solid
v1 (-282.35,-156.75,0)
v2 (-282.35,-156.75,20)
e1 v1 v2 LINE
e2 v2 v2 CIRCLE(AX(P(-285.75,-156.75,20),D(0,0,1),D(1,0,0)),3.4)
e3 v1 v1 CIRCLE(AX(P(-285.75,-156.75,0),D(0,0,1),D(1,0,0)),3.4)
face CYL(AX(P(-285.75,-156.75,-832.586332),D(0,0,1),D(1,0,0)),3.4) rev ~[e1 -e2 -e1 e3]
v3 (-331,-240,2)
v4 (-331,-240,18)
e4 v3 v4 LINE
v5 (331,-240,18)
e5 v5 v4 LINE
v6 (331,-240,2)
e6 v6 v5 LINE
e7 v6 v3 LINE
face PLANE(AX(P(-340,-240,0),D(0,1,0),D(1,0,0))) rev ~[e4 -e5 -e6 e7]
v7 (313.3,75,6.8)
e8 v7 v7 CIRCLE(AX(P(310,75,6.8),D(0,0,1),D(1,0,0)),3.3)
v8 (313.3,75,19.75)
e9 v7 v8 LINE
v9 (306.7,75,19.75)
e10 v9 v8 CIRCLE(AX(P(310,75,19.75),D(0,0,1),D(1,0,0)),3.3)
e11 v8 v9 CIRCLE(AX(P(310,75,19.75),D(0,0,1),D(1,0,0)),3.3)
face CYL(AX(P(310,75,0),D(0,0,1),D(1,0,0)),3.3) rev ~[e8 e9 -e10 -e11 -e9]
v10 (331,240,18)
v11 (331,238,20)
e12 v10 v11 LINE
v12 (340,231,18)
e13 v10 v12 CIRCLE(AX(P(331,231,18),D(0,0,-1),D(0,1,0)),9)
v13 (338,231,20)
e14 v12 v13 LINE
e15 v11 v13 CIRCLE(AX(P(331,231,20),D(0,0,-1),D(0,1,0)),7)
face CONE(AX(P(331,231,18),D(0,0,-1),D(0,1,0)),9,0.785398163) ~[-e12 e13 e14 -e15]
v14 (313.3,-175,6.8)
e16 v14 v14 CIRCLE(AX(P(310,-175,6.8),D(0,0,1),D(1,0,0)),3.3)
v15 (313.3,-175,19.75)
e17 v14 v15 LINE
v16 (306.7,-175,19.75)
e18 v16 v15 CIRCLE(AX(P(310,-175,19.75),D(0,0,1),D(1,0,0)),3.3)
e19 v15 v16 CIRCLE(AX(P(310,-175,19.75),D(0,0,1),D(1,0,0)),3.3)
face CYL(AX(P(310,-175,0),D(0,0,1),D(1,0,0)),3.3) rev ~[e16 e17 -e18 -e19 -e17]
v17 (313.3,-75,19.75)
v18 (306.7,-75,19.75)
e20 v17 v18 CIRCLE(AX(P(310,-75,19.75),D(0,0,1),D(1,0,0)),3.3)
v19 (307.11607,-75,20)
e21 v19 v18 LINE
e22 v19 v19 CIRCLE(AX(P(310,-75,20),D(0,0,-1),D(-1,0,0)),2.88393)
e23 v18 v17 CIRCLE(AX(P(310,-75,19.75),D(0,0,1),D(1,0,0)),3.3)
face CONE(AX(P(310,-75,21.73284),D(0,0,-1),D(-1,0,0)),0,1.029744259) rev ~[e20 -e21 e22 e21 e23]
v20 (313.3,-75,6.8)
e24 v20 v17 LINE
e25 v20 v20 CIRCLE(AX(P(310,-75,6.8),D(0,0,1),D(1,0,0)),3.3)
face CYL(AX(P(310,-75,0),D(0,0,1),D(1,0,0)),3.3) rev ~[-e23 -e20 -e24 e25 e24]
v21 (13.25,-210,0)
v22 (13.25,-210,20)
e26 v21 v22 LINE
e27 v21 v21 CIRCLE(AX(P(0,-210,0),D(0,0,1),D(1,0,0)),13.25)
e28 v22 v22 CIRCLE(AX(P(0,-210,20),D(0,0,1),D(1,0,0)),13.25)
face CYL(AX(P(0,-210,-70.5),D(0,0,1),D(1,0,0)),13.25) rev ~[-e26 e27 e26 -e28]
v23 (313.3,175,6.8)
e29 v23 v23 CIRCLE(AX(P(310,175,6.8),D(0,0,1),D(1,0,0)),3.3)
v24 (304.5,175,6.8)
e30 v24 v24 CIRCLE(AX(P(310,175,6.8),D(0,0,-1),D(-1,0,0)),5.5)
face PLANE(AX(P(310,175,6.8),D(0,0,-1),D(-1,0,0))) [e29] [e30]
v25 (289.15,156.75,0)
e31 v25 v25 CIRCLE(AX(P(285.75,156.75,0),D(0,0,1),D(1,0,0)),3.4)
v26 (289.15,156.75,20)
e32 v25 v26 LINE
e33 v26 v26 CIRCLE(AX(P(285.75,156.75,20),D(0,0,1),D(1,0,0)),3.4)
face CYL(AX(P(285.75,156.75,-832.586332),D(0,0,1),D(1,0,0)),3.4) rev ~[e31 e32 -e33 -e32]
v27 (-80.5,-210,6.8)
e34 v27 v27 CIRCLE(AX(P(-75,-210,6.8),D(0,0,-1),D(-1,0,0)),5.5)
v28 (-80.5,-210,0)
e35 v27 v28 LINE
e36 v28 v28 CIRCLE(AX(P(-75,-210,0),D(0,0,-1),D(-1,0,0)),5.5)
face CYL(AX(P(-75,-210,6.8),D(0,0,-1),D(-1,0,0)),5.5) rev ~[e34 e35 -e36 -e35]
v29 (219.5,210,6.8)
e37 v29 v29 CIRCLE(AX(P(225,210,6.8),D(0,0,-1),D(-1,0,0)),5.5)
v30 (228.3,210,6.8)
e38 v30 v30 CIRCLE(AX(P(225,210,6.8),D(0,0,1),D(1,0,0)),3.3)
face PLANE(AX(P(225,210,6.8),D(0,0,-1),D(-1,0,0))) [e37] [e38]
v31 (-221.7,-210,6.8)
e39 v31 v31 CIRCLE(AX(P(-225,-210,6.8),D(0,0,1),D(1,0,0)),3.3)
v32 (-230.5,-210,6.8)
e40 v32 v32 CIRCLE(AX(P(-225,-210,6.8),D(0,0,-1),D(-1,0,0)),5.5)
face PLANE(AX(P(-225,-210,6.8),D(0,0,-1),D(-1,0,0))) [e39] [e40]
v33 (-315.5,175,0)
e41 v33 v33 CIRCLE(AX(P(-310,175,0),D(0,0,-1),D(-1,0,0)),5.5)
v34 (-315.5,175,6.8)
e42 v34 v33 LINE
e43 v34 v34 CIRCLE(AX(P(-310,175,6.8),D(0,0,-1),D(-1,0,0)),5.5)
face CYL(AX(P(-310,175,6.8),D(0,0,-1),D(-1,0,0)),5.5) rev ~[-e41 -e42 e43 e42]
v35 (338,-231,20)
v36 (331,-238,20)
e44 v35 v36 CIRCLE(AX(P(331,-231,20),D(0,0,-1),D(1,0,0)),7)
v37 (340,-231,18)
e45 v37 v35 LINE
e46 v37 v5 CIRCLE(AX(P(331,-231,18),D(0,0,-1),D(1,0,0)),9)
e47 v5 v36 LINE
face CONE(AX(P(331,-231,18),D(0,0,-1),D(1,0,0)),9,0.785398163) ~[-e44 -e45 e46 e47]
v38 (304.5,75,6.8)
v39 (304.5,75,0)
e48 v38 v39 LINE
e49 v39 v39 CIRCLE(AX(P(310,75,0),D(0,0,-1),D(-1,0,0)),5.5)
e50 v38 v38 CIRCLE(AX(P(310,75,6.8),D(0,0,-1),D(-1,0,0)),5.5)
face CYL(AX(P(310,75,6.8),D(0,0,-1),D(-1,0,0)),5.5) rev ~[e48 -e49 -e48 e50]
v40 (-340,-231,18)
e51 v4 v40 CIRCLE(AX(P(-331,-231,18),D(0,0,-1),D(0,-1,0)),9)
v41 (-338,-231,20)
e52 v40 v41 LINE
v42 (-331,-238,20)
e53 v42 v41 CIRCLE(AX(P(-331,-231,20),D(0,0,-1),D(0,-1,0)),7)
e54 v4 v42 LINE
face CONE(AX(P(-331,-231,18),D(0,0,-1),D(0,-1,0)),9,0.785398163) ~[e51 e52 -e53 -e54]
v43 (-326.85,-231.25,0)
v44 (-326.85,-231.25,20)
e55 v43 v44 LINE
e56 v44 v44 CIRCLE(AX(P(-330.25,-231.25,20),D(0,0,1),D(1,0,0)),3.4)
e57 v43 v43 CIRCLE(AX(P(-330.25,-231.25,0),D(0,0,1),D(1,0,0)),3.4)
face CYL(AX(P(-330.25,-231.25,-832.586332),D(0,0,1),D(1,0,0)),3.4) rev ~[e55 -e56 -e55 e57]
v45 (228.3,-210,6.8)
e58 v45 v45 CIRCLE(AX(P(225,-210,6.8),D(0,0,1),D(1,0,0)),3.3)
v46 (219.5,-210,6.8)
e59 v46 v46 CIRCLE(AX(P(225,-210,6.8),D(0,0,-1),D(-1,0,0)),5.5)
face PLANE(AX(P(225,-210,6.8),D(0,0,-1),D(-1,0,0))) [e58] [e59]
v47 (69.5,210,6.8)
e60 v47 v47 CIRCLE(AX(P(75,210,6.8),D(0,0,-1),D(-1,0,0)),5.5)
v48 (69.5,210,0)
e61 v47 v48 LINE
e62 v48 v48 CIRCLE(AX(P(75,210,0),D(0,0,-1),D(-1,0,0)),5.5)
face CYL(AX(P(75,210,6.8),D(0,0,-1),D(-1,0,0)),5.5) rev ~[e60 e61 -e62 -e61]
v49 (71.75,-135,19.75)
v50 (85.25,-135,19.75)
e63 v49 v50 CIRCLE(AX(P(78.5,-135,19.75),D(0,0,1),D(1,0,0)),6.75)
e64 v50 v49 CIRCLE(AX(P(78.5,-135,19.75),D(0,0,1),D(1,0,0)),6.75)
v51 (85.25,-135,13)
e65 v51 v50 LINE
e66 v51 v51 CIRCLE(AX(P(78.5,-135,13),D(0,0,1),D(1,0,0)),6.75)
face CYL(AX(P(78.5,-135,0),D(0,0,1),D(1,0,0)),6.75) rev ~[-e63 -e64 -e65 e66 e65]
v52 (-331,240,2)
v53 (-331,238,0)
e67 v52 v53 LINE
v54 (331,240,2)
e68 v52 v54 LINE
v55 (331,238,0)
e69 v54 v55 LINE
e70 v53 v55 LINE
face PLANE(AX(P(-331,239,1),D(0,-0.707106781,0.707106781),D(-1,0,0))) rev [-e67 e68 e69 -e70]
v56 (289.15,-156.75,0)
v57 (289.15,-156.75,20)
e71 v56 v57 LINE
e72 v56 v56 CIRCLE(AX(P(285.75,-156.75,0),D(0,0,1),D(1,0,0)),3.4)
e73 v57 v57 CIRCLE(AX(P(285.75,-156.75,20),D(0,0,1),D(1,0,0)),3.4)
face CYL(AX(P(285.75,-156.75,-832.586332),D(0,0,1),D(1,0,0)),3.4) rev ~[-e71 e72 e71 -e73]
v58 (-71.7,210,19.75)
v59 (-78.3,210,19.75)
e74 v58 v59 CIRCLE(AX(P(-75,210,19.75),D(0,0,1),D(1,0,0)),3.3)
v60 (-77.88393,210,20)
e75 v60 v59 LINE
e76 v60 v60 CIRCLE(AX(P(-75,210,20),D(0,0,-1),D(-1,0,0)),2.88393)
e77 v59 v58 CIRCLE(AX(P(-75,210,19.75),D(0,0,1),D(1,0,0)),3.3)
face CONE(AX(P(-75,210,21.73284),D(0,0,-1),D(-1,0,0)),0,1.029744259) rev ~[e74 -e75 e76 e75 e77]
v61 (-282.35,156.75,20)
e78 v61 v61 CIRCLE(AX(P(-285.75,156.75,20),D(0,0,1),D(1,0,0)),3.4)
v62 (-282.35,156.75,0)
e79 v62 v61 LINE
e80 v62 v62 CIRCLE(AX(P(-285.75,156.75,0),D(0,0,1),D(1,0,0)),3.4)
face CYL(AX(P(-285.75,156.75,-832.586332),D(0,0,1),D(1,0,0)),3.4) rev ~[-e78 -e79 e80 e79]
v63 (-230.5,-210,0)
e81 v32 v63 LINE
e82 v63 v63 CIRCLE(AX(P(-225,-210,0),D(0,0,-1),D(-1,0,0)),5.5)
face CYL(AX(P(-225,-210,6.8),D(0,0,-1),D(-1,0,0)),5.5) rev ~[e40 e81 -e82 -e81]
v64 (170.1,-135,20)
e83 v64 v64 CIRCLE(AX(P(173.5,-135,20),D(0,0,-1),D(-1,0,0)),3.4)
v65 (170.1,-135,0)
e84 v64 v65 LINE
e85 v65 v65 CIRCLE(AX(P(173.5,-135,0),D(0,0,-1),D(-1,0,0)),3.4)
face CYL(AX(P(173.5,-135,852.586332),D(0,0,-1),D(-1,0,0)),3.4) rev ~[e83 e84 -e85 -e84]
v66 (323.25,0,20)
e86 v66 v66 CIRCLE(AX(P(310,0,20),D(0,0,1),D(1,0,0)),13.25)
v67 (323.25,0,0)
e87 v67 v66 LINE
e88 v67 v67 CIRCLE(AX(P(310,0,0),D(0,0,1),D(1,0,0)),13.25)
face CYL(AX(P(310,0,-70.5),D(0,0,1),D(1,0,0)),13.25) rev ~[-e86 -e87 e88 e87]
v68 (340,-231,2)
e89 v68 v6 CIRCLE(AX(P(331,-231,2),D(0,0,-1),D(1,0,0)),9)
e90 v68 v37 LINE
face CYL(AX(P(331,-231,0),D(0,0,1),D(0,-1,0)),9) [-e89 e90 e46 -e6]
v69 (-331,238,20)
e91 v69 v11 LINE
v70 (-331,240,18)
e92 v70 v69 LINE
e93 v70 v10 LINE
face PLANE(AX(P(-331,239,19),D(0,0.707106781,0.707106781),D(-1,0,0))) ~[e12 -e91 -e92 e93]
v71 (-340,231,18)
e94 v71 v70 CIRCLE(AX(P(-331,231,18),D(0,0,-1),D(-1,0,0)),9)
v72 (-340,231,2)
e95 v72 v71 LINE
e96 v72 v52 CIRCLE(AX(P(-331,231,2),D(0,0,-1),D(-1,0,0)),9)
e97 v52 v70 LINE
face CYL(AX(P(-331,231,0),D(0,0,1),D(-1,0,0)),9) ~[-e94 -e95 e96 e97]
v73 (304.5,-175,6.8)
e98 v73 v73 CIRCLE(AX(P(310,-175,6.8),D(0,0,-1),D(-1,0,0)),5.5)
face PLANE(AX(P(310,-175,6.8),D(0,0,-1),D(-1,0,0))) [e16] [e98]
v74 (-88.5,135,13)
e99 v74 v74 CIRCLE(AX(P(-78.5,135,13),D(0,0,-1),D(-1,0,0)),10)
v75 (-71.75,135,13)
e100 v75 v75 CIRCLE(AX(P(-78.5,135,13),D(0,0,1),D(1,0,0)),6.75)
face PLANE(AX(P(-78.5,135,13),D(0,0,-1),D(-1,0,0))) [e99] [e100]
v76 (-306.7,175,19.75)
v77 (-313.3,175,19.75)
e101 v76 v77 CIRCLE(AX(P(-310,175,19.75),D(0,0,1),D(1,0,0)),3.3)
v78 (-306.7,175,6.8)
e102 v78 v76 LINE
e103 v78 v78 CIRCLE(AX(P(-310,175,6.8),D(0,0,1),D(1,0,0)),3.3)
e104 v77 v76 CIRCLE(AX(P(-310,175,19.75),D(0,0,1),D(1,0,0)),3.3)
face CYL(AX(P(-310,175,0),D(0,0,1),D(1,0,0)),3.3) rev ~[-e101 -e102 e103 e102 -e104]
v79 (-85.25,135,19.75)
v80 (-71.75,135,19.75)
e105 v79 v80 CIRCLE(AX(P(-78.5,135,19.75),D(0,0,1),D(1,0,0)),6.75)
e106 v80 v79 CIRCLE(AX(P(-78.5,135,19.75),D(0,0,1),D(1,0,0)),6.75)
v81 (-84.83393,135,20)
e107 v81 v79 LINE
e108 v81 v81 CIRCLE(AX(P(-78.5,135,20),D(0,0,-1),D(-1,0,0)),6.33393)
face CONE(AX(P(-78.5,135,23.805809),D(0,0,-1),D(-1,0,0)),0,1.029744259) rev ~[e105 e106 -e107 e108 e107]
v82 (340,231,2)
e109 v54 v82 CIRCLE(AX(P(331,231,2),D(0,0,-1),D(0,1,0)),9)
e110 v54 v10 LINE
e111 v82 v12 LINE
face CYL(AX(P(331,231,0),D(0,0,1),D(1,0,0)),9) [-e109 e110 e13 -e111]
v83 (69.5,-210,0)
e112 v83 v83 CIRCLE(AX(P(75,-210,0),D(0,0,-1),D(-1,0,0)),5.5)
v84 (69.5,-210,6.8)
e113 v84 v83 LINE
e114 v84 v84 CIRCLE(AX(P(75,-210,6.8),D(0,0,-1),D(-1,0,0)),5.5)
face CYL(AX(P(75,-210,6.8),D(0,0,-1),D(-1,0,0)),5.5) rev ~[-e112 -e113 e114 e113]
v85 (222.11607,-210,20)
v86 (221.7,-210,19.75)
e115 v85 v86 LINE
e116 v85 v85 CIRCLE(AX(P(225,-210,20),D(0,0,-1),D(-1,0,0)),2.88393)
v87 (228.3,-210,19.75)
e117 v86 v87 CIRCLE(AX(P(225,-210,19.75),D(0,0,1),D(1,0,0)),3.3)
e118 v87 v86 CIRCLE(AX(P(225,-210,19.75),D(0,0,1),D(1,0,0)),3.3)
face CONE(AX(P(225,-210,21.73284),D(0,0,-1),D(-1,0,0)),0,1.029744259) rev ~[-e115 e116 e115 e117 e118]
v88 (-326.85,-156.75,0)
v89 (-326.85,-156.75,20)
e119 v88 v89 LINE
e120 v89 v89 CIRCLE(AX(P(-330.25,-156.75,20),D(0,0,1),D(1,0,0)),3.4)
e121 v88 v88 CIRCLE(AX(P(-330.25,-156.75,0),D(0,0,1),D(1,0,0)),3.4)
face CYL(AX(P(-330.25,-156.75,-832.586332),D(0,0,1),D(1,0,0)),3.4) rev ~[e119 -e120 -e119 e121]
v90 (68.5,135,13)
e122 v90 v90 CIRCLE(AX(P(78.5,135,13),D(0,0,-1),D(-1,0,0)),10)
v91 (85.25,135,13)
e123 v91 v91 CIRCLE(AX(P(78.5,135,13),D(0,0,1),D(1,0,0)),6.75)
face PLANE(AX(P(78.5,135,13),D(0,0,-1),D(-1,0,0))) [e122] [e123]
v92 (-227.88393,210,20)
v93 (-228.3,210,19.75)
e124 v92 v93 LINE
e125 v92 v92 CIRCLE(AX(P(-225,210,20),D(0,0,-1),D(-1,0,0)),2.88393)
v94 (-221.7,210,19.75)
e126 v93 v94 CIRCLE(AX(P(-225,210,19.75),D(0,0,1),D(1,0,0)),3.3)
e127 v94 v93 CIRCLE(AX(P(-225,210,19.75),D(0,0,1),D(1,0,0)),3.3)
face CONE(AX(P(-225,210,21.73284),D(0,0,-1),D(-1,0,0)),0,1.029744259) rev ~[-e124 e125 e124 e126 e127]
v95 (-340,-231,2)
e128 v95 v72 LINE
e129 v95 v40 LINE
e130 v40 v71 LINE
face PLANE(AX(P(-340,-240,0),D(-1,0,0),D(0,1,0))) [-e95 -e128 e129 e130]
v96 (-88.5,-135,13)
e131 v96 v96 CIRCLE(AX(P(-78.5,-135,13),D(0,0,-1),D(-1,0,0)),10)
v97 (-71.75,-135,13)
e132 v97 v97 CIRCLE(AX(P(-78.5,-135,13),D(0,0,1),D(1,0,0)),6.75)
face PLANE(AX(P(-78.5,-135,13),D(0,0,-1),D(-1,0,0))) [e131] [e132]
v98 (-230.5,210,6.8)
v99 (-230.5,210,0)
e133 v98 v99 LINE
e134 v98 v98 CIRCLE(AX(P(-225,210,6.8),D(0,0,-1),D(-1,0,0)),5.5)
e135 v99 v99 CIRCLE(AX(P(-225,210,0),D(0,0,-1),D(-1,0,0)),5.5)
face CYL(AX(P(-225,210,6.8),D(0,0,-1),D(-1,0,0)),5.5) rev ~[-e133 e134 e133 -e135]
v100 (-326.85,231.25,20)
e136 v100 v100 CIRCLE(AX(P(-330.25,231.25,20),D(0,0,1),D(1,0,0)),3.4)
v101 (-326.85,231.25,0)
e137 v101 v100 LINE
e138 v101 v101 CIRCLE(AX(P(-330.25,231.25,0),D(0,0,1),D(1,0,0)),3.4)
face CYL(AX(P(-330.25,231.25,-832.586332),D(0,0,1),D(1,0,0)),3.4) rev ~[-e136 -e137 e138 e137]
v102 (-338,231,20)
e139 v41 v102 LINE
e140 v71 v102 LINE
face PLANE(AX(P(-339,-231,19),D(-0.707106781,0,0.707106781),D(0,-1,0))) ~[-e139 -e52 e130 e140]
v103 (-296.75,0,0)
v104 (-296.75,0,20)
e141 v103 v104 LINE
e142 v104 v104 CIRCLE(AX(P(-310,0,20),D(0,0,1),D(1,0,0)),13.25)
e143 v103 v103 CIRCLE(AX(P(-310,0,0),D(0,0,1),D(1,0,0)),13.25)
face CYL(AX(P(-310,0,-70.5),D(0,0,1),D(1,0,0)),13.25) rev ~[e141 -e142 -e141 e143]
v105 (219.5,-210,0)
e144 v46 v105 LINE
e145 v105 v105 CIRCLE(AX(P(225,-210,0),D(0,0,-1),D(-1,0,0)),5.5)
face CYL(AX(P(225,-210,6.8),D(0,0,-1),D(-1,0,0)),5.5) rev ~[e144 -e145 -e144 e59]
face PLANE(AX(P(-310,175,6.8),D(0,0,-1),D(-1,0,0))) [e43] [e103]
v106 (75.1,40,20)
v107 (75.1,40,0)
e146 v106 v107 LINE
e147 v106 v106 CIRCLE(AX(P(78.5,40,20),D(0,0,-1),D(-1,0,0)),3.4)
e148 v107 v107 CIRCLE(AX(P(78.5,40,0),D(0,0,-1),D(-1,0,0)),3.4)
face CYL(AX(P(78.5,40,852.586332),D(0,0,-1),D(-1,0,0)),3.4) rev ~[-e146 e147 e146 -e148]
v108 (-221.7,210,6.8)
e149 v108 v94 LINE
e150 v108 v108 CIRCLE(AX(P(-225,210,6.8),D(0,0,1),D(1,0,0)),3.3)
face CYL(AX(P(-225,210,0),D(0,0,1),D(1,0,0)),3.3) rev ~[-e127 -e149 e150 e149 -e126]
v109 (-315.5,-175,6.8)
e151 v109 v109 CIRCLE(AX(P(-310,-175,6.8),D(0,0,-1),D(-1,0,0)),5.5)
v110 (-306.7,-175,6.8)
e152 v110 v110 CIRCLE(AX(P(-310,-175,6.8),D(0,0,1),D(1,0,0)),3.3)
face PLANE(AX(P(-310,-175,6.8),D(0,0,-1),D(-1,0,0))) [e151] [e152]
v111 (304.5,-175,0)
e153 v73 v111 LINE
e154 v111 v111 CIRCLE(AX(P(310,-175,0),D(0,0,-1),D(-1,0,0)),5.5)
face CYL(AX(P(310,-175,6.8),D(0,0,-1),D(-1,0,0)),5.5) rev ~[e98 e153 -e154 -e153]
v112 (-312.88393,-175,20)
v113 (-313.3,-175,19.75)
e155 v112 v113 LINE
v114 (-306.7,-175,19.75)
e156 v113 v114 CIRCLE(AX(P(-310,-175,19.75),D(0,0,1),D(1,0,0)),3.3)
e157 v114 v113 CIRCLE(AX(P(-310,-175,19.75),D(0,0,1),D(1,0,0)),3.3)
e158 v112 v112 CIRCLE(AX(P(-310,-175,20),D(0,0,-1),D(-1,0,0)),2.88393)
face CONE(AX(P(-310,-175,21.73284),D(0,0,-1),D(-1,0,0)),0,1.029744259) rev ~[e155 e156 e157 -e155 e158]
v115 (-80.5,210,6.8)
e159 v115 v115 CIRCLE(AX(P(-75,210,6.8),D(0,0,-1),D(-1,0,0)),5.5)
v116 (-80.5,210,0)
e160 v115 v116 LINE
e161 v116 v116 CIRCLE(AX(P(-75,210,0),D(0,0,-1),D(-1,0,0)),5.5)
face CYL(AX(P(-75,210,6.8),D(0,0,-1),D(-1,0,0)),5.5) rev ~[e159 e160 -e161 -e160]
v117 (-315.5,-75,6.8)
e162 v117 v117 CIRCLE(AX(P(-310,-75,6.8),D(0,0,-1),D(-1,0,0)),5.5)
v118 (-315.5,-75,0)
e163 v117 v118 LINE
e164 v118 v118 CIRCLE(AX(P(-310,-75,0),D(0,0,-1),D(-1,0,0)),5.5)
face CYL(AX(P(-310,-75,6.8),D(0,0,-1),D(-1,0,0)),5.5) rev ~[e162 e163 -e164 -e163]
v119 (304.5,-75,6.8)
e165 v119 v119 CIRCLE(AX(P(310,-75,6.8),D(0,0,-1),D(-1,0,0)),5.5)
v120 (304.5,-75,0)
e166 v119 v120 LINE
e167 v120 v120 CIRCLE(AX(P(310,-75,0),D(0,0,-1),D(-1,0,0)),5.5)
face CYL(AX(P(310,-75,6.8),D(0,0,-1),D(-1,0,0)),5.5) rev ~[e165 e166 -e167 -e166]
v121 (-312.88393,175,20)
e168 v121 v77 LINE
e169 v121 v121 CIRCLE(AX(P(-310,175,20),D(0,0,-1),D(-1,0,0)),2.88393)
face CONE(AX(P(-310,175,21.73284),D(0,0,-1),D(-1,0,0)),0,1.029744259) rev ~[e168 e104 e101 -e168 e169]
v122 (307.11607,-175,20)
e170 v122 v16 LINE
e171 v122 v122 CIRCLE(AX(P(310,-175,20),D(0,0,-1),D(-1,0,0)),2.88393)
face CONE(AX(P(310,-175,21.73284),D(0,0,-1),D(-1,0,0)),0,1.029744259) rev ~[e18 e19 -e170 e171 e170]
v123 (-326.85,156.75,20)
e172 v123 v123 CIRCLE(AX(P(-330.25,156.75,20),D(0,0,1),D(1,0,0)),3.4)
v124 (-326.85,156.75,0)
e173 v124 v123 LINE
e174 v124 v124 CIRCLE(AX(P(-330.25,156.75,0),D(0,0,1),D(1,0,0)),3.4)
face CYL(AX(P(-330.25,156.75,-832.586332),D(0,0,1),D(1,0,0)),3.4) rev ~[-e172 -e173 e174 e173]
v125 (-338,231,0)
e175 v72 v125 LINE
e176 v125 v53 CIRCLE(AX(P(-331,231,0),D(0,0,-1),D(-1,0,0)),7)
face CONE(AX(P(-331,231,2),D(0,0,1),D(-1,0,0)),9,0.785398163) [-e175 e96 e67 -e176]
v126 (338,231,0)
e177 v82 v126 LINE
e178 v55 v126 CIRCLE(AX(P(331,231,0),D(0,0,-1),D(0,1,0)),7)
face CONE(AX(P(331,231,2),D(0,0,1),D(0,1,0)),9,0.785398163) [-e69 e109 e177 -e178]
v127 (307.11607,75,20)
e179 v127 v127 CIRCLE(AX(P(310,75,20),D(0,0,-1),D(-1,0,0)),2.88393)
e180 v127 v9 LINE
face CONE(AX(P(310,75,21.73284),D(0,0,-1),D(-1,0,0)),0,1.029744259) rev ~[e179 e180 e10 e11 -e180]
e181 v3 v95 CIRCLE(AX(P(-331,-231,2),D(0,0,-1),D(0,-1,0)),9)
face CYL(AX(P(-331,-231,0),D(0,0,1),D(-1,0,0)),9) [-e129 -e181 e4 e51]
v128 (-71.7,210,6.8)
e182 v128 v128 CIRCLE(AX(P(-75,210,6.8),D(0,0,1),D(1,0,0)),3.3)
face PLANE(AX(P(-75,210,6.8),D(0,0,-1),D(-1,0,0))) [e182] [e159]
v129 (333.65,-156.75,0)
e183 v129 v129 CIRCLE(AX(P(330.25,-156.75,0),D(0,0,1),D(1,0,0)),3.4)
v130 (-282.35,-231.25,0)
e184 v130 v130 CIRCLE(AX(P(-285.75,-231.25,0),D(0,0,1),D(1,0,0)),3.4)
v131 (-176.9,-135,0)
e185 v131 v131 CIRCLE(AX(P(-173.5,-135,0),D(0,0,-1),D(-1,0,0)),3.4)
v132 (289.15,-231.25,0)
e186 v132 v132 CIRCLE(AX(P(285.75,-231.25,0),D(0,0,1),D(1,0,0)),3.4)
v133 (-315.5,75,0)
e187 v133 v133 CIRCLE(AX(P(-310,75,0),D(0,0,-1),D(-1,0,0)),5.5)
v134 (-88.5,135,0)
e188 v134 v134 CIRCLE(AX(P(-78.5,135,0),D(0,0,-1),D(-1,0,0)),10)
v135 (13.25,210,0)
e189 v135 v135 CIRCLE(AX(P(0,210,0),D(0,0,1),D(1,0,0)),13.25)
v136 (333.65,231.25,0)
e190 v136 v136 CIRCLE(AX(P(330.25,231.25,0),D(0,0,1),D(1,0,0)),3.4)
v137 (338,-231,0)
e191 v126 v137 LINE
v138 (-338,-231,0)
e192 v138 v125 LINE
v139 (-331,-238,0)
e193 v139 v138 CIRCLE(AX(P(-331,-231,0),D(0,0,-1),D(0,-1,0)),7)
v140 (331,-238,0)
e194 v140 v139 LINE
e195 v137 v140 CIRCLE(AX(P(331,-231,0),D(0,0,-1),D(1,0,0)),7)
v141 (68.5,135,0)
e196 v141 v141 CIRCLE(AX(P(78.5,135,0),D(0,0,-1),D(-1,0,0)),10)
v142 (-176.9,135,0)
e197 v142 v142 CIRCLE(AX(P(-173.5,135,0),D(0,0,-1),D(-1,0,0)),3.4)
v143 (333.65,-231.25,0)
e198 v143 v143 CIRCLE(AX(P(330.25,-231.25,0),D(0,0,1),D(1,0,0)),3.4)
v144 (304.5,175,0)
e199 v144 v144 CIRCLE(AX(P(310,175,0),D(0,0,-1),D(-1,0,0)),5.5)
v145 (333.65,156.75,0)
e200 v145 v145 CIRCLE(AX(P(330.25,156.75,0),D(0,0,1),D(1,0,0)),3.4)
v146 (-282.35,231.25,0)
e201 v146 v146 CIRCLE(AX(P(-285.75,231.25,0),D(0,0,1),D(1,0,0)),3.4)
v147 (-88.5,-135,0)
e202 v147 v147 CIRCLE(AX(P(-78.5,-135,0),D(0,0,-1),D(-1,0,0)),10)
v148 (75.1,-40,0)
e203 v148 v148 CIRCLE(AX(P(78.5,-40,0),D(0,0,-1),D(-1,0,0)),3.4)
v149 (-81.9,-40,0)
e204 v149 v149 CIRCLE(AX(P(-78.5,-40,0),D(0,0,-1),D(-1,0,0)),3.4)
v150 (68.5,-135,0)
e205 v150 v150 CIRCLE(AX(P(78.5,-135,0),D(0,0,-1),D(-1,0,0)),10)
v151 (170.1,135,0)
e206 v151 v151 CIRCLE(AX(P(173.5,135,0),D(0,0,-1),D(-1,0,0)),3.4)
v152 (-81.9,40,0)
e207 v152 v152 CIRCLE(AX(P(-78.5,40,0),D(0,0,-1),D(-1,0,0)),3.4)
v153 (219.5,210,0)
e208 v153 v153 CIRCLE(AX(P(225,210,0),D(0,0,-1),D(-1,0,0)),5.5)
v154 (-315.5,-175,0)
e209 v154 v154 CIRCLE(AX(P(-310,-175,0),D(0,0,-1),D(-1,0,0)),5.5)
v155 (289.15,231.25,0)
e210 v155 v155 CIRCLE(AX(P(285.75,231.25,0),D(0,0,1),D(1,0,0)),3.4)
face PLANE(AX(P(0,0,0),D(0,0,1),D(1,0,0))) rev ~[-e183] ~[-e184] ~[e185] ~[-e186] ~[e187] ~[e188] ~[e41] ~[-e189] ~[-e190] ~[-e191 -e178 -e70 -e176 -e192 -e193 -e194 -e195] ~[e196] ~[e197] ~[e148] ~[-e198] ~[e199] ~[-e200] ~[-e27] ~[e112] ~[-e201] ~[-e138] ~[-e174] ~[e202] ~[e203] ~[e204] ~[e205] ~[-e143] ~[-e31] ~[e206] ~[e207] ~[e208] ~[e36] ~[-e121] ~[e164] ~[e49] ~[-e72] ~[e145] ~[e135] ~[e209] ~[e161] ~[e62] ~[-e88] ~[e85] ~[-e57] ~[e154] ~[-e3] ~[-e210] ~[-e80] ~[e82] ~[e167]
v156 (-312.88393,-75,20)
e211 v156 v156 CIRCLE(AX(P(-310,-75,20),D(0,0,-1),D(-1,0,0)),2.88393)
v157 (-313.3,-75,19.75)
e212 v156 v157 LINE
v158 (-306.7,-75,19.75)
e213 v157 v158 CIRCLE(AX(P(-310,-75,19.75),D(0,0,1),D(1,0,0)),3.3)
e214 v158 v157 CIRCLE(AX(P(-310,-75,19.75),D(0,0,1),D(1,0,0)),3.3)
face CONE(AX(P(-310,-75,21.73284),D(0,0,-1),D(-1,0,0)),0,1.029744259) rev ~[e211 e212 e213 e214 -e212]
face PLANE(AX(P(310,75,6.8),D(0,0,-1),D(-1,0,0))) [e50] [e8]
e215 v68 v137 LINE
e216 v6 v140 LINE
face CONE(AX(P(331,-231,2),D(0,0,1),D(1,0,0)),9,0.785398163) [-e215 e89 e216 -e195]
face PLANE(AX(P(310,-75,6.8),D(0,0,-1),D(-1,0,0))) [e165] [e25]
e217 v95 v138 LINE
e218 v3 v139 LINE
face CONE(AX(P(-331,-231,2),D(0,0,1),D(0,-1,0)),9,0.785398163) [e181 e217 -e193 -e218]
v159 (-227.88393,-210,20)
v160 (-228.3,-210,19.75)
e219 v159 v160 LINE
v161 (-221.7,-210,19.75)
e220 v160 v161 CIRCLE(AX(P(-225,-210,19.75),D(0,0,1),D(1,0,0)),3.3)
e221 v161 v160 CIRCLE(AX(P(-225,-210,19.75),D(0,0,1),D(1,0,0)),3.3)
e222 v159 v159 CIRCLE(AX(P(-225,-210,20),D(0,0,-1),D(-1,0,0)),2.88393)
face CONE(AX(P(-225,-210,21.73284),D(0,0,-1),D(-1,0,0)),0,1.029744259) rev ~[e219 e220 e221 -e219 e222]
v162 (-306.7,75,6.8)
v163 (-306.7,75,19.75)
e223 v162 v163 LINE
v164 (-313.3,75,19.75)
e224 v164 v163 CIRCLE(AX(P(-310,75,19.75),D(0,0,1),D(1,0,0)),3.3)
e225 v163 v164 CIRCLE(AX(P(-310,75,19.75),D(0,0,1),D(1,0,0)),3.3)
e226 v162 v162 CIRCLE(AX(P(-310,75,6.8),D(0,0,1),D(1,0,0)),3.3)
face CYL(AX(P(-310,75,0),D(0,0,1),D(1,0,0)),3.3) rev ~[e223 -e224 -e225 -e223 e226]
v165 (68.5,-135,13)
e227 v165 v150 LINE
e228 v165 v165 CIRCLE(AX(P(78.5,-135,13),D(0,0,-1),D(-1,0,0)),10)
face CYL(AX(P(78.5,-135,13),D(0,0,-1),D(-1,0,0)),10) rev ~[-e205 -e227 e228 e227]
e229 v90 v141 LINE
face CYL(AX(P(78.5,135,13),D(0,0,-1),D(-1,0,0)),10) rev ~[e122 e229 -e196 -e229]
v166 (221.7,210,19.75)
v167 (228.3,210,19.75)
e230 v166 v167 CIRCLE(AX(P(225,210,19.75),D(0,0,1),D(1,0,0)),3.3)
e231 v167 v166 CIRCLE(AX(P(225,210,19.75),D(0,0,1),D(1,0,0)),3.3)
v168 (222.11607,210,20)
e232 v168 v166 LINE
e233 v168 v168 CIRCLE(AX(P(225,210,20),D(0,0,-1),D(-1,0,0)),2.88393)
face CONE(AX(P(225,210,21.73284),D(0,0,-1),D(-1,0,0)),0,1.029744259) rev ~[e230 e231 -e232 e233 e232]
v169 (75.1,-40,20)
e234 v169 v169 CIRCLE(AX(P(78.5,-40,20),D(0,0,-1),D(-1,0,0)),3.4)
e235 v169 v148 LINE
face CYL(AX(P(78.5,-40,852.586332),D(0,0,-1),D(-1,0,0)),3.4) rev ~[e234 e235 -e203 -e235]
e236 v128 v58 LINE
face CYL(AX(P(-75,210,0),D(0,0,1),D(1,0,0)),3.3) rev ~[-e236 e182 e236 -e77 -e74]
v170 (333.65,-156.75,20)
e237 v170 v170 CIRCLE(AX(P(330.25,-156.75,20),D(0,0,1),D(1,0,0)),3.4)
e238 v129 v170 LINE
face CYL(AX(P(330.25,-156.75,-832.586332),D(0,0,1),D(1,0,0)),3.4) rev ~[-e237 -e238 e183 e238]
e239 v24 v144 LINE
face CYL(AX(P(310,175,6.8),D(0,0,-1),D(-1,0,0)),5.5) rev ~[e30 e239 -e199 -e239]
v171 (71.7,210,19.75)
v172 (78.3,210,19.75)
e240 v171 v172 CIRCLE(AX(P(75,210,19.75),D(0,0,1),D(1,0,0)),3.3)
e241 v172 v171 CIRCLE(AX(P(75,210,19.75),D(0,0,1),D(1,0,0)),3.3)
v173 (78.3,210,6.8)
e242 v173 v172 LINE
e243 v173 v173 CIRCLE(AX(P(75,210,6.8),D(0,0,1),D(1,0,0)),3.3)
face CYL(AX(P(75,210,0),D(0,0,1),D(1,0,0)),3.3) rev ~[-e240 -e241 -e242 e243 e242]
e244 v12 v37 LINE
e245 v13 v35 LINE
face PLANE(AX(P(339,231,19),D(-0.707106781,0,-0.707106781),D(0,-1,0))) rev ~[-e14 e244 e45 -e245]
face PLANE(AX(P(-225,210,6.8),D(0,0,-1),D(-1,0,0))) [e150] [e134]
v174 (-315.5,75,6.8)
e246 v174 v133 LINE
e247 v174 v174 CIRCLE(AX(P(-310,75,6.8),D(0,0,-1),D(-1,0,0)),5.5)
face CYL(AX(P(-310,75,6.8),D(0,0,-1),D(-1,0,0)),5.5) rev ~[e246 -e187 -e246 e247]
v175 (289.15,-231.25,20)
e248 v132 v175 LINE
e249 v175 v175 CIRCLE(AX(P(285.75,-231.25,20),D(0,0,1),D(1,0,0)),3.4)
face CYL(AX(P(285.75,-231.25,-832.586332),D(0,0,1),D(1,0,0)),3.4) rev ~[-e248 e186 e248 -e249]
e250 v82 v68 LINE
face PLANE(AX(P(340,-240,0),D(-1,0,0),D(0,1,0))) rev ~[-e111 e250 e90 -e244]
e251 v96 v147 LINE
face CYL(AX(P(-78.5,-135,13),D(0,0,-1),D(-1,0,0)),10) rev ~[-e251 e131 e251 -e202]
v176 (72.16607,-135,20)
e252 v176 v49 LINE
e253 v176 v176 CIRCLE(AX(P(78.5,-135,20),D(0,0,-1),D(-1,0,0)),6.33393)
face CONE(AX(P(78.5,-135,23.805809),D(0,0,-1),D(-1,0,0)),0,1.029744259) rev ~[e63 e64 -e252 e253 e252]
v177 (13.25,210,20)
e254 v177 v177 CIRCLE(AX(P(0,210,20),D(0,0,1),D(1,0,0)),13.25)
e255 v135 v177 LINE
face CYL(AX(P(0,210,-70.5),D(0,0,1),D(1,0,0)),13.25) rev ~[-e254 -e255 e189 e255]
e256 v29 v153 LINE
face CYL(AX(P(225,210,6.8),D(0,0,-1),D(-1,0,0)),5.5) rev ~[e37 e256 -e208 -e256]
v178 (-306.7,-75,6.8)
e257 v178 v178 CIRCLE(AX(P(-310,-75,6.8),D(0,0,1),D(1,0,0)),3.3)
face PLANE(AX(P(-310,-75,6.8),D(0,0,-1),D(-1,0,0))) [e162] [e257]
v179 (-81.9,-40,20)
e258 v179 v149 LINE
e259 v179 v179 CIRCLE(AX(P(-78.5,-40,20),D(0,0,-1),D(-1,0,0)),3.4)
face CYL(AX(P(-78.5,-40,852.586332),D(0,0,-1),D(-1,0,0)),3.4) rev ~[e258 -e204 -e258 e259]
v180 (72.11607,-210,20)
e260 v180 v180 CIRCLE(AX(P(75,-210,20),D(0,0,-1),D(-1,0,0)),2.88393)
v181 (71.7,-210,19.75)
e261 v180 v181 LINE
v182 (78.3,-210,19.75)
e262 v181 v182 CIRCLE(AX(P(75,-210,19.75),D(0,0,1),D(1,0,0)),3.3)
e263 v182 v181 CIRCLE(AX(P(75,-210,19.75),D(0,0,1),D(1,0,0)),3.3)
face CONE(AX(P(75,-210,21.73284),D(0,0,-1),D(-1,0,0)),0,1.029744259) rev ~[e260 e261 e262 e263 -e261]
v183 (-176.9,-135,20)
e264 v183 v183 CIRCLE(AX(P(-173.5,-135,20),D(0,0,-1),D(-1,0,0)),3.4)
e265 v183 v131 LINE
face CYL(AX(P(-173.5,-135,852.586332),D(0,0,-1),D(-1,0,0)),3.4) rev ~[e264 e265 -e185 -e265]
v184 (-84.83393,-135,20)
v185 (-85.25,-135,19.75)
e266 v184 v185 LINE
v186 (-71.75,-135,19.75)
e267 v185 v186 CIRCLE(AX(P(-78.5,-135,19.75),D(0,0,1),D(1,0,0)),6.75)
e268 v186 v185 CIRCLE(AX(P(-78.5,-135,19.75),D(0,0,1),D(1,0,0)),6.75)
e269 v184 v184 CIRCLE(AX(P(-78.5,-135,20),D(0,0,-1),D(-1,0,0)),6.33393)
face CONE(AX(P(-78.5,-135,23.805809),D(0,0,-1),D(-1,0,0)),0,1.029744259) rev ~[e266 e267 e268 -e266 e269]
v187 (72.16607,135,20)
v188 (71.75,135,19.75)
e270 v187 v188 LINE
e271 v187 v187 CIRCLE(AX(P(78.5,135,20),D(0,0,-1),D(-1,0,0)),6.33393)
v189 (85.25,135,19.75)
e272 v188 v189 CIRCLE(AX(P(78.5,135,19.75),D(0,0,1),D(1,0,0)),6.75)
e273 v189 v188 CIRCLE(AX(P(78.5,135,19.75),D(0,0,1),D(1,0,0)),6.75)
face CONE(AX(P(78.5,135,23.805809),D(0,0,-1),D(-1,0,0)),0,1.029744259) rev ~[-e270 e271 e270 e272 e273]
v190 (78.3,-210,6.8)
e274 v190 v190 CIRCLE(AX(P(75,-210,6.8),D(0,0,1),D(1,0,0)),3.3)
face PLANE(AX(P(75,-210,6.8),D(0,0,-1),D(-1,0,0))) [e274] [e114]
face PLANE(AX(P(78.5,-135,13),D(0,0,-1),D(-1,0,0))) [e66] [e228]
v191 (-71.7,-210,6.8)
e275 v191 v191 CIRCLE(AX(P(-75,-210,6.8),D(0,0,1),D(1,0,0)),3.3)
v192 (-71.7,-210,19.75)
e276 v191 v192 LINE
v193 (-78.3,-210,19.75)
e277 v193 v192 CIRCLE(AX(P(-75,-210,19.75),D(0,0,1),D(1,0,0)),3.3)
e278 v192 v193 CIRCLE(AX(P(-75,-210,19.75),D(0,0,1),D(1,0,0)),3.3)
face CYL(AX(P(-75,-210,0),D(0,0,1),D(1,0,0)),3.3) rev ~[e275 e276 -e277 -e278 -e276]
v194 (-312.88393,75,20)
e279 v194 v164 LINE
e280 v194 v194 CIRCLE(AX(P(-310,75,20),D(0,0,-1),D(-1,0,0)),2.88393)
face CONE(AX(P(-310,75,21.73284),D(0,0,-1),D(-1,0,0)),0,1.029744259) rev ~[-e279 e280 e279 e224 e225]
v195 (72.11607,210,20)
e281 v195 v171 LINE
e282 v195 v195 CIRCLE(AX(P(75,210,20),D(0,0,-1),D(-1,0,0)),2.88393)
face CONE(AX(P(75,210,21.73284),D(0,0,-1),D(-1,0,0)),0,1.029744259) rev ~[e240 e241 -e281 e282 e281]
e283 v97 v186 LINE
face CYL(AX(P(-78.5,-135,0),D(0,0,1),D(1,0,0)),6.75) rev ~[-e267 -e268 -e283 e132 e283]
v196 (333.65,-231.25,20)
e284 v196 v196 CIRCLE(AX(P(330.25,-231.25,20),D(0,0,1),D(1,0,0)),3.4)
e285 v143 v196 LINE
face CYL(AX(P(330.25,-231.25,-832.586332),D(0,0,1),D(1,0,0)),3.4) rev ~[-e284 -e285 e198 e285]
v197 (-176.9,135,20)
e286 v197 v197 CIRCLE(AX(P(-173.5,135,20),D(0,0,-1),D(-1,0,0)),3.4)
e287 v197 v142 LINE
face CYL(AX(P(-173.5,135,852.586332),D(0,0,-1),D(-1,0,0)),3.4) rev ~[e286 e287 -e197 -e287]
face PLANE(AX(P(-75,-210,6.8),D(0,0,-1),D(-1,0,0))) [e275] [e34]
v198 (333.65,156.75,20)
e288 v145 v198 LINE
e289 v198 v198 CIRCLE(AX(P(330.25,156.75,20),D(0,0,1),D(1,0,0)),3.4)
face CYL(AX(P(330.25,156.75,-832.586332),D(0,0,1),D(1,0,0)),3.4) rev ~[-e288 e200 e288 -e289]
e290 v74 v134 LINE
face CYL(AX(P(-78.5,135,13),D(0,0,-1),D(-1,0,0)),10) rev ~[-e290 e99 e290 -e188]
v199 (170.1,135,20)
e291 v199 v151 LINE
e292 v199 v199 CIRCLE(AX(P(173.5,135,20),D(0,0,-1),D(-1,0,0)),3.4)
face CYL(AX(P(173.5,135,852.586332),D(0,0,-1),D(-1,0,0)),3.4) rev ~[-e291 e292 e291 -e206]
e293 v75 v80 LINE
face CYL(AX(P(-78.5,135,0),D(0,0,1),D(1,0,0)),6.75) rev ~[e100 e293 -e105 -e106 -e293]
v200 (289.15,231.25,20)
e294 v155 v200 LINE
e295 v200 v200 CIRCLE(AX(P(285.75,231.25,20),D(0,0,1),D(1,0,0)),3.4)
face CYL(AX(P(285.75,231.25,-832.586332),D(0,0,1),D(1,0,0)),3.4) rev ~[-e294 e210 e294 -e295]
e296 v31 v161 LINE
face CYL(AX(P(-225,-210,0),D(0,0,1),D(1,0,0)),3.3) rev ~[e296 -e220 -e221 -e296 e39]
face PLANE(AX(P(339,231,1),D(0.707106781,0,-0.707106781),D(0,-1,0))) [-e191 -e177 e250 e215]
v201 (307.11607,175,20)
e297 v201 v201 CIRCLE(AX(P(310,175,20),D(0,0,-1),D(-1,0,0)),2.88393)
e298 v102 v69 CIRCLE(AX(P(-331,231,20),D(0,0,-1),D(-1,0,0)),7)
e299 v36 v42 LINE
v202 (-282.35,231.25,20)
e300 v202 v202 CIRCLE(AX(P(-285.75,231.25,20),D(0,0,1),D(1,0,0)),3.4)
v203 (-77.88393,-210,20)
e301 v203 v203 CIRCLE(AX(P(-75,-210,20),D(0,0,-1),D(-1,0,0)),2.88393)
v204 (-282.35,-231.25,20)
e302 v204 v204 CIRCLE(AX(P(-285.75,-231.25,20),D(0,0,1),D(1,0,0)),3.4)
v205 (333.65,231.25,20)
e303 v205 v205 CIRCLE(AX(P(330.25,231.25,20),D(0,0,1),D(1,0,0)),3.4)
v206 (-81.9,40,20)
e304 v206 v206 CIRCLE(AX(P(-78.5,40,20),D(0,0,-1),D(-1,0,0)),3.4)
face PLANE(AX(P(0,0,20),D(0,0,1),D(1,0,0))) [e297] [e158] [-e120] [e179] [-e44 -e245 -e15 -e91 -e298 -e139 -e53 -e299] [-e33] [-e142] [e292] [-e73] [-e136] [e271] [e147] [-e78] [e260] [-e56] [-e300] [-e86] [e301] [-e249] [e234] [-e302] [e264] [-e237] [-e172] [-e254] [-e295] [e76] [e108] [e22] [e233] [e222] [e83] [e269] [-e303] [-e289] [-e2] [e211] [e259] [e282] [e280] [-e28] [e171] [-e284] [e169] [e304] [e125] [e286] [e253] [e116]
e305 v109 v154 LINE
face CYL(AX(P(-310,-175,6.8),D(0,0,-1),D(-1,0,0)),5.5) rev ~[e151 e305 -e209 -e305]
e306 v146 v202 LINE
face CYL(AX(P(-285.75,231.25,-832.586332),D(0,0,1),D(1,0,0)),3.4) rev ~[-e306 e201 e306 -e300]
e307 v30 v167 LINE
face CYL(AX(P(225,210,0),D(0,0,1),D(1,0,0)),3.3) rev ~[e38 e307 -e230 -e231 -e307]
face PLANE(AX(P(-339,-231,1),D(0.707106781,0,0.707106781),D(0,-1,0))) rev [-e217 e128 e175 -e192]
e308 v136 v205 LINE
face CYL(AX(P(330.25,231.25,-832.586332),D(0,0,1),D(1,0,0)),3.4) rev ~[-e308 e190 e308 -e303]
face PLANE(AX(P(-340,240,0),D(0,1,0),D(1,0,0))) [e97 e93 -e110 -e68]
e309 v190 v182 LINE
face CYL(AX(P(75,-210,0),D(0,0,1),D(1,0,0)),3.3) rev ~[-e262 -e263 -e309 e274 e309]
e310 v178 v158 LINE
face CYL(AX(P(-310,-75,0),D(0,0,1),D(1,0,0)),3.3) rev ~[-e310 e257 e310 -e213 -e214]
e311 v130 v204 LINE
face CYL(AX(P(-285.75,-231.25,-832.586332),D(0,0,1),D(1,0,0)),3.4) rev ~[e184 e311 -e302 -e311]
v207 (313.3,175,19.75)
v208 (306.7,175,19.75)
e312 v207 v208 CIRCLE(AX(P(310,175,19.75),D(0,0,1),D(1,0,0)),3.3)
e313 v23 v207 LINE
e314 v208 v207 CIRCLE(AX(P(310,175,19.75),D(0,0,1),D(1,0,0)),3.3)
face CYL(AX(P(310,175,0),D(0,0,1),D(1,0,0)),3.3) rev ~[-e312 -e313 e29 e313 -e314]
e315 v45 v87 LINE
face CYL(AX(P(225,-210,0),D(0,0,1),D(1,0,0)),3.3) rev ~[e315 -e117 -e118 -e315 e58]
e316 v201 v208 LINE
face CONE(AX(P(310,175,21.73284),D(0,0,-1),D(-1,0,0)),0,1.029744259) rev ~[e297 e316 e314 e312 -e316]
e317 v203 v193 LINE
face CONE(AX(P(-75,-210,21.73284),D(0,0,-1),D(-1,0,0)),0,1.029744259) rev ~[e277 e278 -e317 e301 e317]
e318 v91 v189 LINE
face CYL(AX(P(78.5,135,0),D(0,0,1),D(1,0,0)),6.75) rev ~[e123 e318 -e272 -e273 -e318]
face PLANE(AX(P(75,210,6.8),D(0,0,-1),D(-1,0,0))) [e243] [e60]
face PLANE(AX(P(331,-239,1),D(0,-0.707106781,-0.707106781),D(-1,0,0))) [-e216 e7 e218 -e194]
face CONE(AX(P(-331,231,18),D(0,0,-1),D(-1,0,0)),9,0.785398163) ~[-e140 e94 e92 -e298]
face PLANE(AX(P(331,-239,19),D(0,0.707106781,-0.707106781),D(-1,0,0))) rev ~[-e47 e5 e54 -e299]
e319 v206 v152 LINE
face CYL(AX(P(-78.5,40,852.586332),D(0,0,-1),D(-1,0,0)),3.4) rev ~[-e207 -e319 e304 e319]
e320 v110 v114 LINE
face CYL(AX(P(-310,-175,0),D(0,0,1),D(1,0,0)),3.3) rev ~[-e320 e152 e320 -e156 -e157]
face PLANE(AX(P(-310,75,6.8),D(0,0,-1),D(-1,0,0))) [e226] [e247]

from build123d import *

# Parameters (mm, degrees)
SKETCH_1_W                = 680
SKETCH_1_H                = 480
EXTRUDE_1_DEPTH           = 20
FILLET_1_R                = 9
CHAMFER_3_SIZE            = 2
HOLE_WIZARD_M30_1_D       = 26.5
HOLE_WIZARD_M30_1_DEPTH   = 70.5
HOLE_WIZARD_M30_1_TIP     = 7.961403202
HOLE_WIZARD_M8_1_D        = 6.8
HOLE_WIZARD_2_D           = 6.6
HOLE_WIZARD_2_DEPTH       = 19.75
HOLE_WIZARD_2_CBORE_D     = 11
HOLE_WIZARD_2_CBORE_DEPTH = 6.8
HOLE_WIZARD_2_TIP         = 1.982840043
HOLE_WIZARD_3_D           = 13.5
HOLE_WIZARD_3_DEPTH       = 19.75
HOLE_WIZARD_3_CBORE_D     = 20
HOLE_WIZARD_3_CBORE_DEPTH = 13
HOLE_WIZARD_3_TIP         = 4.055809178
HOLE_WIZARD_M8_2_D        = 6.8


with BuildPart() as part:
    # 草图1 → 凸台-拉伸1 (new body)
    with BuildSketch(Plane.XY):
        Rectangle(SKETCH_1_W, SKETCH_1_H)
    extrude(amount=EXTRUDE_1_DEPTH)

    # 圆角1
    fillet_1_edges = [part.edges().sort_by_distance(p)[0] for p in [
        (340, -240, 10),
        (-340, -240, 10),
        (-340, 240, 10),
        (340, 240, 10),
    ]]
    fillet(fillet_1_edges, radius=FILLET_1_R)

    # 倒角3
    chamfer_3_edges = [part.edges().sort_by_distance(p)[0] for p in [
        (-340, 0, 0),
        (-340, 0, 20),
        (340, 0, 0),
        (0, -240, 0),
        (0, 240, 0),
        (-337.363961031, -237.363961031, 0),
        (337.363961031, -237.363961031, 0),
        (337.363961031, 237.363961031, 0),
        (-337.363961031, 237.363961031, 0),
        (0, 240, 20),
        (340, 0, 20),
        (0, -240, 20),
        (-337.363961031, -237.363961031, 20),
        (337.363961031, -237.363961031, 20),
        (337.363961031, 237.363961031, 20),
        (-337.363961031, 237.363961031, 20),
    ]]
    chamfer(chamfer_3_edges, length=CHAMFER_3_SIZE)

    # M30 螺纹孔1
    with Locations(Plane(origin=(0, 0, 0), x_dir=(-1, 0, 0), z_dir=(0, 0, -1))):
        with Locations((0, 210), (-310, 0), (0, -210), (310, 0)):
            Hole(HOLE_WIZARD_M30_1_D / 2, depth=HOLE_WIZARD_M30_1_DEPTH)
            with Locations((0, 0, -(HOLE_WIZARD_M30_1_DEPTH + HOLE_WIZARD_M30_1_TIP / 2))):  # 118° drill point
                Cone(0, HOLE_WIZARD_M30_1_D / 2, HOLE_WIZARD_M30_1_TIP, mode=Mode.SUBTRACT)

    # M8 螺纹孔1 (through all)
    with Locations(Plane(origin=(0, 0, 0), x_dir=(-1, 0, 0), z_dir=(0, 0, -1))):
        with Locations((330.25, -231.25), (285.75, -231.25), (285.75, -156.75), (330.25, -156.75), (-285.75, -231.25), (-330.25, -231.25), (-330.25, -156.75), (-285.75, -156.75), (330.25, 156.75), (285.75, 156.75), (285.75, 231.25), (330.25, 231.25), (-285.75, 156.75), (-330.25, 156.75), (-330.25, 231.25), (-285.75, 231.25)):
            Hole(HOLE_WIZARD_M8_1_D / 2)

    # 打孔尺寸(%根据)内六角圆柱头螺钉的类型2
    with Locations(Plane(origin=(0, 0, 0), x_dir=(-1, 0, 0), z_dir=(0, 0, -1))):
        with Locations((225, -210), (75, -210), (-75, -210), (-225, -210), (225, 210), (75, 210), (-75, 210), (-225, 210), (310, -175), (310, 175), (-310, -175), (-310, 175), (-310, -75), (-310, 75), (310, -75), (310, 75)):
            CounterBoreHole(HOLE_WIZARD_2_D / 2, HOLE_WIZARD_2_CBORE_D / 2, HOLE_WIZARD_2_CBORE_DEPTH, depth=HOLE_WIZARD_2_DEPTH)
            with Locations((0, 0, -(HOLE_WIZARD_2_DEPTH + HOLE_WIZARD_2_TIP / 2))):  # 118° drill point
                Cone(0, HOLE_WIZARD_2_D / 2, HOLE_WIZARD_2_TIP, mode=Mode.SUBTRACT)

    # 打孔尺寸(%根据)内六角圆柱头螺钉的类型3
    with Locations(Plane(origin=(0, 0, 0), x_dir=(-1, 0, 0), z_dir=(0, 0, -1))):
        with Locations((78.500000006, -135.000000012), (-78.499999994, -135.000000012), (-78.499999994, 134.999999988), (78.500000006, 134.999999988)):
            CounterBoreHole(HOLE_WIZARD_3_D / 2, HOLE_WIZARD_3_CBORE_D / 2, HOLE_WIZARD_3_CBORE_DEPTH, depth=HOLE_WIZARD_3_DEPTH)
            with Locations((0, 0, -(HOLE_WIZARD_3_DEPTH + HOLE_WIZARD_3_TIP / 2))):  # 118° drill point
                Cone(0, HOLE_WIZARD_3_D / 2, HOLE_WIZARD_3_TIP, mode=Mode.SUBTRACT)

    # M8 螺纹孔2 (through all)
    with Locations(Plane.XY.offset(20)):
        with Locations((-173.5, 135.000000012), (-78.5, 40.000000013), (173.5, 135.000000012), (78.5, 40.000000013), (78.499999997, -39.999999988), (-78.500000003, -39.999999988), (-173.5, -134.999999988), (173.5, -134.999999988)):
            Hole(HOLE_WIZARD_M8_2_D / 2)


solid = part.part
